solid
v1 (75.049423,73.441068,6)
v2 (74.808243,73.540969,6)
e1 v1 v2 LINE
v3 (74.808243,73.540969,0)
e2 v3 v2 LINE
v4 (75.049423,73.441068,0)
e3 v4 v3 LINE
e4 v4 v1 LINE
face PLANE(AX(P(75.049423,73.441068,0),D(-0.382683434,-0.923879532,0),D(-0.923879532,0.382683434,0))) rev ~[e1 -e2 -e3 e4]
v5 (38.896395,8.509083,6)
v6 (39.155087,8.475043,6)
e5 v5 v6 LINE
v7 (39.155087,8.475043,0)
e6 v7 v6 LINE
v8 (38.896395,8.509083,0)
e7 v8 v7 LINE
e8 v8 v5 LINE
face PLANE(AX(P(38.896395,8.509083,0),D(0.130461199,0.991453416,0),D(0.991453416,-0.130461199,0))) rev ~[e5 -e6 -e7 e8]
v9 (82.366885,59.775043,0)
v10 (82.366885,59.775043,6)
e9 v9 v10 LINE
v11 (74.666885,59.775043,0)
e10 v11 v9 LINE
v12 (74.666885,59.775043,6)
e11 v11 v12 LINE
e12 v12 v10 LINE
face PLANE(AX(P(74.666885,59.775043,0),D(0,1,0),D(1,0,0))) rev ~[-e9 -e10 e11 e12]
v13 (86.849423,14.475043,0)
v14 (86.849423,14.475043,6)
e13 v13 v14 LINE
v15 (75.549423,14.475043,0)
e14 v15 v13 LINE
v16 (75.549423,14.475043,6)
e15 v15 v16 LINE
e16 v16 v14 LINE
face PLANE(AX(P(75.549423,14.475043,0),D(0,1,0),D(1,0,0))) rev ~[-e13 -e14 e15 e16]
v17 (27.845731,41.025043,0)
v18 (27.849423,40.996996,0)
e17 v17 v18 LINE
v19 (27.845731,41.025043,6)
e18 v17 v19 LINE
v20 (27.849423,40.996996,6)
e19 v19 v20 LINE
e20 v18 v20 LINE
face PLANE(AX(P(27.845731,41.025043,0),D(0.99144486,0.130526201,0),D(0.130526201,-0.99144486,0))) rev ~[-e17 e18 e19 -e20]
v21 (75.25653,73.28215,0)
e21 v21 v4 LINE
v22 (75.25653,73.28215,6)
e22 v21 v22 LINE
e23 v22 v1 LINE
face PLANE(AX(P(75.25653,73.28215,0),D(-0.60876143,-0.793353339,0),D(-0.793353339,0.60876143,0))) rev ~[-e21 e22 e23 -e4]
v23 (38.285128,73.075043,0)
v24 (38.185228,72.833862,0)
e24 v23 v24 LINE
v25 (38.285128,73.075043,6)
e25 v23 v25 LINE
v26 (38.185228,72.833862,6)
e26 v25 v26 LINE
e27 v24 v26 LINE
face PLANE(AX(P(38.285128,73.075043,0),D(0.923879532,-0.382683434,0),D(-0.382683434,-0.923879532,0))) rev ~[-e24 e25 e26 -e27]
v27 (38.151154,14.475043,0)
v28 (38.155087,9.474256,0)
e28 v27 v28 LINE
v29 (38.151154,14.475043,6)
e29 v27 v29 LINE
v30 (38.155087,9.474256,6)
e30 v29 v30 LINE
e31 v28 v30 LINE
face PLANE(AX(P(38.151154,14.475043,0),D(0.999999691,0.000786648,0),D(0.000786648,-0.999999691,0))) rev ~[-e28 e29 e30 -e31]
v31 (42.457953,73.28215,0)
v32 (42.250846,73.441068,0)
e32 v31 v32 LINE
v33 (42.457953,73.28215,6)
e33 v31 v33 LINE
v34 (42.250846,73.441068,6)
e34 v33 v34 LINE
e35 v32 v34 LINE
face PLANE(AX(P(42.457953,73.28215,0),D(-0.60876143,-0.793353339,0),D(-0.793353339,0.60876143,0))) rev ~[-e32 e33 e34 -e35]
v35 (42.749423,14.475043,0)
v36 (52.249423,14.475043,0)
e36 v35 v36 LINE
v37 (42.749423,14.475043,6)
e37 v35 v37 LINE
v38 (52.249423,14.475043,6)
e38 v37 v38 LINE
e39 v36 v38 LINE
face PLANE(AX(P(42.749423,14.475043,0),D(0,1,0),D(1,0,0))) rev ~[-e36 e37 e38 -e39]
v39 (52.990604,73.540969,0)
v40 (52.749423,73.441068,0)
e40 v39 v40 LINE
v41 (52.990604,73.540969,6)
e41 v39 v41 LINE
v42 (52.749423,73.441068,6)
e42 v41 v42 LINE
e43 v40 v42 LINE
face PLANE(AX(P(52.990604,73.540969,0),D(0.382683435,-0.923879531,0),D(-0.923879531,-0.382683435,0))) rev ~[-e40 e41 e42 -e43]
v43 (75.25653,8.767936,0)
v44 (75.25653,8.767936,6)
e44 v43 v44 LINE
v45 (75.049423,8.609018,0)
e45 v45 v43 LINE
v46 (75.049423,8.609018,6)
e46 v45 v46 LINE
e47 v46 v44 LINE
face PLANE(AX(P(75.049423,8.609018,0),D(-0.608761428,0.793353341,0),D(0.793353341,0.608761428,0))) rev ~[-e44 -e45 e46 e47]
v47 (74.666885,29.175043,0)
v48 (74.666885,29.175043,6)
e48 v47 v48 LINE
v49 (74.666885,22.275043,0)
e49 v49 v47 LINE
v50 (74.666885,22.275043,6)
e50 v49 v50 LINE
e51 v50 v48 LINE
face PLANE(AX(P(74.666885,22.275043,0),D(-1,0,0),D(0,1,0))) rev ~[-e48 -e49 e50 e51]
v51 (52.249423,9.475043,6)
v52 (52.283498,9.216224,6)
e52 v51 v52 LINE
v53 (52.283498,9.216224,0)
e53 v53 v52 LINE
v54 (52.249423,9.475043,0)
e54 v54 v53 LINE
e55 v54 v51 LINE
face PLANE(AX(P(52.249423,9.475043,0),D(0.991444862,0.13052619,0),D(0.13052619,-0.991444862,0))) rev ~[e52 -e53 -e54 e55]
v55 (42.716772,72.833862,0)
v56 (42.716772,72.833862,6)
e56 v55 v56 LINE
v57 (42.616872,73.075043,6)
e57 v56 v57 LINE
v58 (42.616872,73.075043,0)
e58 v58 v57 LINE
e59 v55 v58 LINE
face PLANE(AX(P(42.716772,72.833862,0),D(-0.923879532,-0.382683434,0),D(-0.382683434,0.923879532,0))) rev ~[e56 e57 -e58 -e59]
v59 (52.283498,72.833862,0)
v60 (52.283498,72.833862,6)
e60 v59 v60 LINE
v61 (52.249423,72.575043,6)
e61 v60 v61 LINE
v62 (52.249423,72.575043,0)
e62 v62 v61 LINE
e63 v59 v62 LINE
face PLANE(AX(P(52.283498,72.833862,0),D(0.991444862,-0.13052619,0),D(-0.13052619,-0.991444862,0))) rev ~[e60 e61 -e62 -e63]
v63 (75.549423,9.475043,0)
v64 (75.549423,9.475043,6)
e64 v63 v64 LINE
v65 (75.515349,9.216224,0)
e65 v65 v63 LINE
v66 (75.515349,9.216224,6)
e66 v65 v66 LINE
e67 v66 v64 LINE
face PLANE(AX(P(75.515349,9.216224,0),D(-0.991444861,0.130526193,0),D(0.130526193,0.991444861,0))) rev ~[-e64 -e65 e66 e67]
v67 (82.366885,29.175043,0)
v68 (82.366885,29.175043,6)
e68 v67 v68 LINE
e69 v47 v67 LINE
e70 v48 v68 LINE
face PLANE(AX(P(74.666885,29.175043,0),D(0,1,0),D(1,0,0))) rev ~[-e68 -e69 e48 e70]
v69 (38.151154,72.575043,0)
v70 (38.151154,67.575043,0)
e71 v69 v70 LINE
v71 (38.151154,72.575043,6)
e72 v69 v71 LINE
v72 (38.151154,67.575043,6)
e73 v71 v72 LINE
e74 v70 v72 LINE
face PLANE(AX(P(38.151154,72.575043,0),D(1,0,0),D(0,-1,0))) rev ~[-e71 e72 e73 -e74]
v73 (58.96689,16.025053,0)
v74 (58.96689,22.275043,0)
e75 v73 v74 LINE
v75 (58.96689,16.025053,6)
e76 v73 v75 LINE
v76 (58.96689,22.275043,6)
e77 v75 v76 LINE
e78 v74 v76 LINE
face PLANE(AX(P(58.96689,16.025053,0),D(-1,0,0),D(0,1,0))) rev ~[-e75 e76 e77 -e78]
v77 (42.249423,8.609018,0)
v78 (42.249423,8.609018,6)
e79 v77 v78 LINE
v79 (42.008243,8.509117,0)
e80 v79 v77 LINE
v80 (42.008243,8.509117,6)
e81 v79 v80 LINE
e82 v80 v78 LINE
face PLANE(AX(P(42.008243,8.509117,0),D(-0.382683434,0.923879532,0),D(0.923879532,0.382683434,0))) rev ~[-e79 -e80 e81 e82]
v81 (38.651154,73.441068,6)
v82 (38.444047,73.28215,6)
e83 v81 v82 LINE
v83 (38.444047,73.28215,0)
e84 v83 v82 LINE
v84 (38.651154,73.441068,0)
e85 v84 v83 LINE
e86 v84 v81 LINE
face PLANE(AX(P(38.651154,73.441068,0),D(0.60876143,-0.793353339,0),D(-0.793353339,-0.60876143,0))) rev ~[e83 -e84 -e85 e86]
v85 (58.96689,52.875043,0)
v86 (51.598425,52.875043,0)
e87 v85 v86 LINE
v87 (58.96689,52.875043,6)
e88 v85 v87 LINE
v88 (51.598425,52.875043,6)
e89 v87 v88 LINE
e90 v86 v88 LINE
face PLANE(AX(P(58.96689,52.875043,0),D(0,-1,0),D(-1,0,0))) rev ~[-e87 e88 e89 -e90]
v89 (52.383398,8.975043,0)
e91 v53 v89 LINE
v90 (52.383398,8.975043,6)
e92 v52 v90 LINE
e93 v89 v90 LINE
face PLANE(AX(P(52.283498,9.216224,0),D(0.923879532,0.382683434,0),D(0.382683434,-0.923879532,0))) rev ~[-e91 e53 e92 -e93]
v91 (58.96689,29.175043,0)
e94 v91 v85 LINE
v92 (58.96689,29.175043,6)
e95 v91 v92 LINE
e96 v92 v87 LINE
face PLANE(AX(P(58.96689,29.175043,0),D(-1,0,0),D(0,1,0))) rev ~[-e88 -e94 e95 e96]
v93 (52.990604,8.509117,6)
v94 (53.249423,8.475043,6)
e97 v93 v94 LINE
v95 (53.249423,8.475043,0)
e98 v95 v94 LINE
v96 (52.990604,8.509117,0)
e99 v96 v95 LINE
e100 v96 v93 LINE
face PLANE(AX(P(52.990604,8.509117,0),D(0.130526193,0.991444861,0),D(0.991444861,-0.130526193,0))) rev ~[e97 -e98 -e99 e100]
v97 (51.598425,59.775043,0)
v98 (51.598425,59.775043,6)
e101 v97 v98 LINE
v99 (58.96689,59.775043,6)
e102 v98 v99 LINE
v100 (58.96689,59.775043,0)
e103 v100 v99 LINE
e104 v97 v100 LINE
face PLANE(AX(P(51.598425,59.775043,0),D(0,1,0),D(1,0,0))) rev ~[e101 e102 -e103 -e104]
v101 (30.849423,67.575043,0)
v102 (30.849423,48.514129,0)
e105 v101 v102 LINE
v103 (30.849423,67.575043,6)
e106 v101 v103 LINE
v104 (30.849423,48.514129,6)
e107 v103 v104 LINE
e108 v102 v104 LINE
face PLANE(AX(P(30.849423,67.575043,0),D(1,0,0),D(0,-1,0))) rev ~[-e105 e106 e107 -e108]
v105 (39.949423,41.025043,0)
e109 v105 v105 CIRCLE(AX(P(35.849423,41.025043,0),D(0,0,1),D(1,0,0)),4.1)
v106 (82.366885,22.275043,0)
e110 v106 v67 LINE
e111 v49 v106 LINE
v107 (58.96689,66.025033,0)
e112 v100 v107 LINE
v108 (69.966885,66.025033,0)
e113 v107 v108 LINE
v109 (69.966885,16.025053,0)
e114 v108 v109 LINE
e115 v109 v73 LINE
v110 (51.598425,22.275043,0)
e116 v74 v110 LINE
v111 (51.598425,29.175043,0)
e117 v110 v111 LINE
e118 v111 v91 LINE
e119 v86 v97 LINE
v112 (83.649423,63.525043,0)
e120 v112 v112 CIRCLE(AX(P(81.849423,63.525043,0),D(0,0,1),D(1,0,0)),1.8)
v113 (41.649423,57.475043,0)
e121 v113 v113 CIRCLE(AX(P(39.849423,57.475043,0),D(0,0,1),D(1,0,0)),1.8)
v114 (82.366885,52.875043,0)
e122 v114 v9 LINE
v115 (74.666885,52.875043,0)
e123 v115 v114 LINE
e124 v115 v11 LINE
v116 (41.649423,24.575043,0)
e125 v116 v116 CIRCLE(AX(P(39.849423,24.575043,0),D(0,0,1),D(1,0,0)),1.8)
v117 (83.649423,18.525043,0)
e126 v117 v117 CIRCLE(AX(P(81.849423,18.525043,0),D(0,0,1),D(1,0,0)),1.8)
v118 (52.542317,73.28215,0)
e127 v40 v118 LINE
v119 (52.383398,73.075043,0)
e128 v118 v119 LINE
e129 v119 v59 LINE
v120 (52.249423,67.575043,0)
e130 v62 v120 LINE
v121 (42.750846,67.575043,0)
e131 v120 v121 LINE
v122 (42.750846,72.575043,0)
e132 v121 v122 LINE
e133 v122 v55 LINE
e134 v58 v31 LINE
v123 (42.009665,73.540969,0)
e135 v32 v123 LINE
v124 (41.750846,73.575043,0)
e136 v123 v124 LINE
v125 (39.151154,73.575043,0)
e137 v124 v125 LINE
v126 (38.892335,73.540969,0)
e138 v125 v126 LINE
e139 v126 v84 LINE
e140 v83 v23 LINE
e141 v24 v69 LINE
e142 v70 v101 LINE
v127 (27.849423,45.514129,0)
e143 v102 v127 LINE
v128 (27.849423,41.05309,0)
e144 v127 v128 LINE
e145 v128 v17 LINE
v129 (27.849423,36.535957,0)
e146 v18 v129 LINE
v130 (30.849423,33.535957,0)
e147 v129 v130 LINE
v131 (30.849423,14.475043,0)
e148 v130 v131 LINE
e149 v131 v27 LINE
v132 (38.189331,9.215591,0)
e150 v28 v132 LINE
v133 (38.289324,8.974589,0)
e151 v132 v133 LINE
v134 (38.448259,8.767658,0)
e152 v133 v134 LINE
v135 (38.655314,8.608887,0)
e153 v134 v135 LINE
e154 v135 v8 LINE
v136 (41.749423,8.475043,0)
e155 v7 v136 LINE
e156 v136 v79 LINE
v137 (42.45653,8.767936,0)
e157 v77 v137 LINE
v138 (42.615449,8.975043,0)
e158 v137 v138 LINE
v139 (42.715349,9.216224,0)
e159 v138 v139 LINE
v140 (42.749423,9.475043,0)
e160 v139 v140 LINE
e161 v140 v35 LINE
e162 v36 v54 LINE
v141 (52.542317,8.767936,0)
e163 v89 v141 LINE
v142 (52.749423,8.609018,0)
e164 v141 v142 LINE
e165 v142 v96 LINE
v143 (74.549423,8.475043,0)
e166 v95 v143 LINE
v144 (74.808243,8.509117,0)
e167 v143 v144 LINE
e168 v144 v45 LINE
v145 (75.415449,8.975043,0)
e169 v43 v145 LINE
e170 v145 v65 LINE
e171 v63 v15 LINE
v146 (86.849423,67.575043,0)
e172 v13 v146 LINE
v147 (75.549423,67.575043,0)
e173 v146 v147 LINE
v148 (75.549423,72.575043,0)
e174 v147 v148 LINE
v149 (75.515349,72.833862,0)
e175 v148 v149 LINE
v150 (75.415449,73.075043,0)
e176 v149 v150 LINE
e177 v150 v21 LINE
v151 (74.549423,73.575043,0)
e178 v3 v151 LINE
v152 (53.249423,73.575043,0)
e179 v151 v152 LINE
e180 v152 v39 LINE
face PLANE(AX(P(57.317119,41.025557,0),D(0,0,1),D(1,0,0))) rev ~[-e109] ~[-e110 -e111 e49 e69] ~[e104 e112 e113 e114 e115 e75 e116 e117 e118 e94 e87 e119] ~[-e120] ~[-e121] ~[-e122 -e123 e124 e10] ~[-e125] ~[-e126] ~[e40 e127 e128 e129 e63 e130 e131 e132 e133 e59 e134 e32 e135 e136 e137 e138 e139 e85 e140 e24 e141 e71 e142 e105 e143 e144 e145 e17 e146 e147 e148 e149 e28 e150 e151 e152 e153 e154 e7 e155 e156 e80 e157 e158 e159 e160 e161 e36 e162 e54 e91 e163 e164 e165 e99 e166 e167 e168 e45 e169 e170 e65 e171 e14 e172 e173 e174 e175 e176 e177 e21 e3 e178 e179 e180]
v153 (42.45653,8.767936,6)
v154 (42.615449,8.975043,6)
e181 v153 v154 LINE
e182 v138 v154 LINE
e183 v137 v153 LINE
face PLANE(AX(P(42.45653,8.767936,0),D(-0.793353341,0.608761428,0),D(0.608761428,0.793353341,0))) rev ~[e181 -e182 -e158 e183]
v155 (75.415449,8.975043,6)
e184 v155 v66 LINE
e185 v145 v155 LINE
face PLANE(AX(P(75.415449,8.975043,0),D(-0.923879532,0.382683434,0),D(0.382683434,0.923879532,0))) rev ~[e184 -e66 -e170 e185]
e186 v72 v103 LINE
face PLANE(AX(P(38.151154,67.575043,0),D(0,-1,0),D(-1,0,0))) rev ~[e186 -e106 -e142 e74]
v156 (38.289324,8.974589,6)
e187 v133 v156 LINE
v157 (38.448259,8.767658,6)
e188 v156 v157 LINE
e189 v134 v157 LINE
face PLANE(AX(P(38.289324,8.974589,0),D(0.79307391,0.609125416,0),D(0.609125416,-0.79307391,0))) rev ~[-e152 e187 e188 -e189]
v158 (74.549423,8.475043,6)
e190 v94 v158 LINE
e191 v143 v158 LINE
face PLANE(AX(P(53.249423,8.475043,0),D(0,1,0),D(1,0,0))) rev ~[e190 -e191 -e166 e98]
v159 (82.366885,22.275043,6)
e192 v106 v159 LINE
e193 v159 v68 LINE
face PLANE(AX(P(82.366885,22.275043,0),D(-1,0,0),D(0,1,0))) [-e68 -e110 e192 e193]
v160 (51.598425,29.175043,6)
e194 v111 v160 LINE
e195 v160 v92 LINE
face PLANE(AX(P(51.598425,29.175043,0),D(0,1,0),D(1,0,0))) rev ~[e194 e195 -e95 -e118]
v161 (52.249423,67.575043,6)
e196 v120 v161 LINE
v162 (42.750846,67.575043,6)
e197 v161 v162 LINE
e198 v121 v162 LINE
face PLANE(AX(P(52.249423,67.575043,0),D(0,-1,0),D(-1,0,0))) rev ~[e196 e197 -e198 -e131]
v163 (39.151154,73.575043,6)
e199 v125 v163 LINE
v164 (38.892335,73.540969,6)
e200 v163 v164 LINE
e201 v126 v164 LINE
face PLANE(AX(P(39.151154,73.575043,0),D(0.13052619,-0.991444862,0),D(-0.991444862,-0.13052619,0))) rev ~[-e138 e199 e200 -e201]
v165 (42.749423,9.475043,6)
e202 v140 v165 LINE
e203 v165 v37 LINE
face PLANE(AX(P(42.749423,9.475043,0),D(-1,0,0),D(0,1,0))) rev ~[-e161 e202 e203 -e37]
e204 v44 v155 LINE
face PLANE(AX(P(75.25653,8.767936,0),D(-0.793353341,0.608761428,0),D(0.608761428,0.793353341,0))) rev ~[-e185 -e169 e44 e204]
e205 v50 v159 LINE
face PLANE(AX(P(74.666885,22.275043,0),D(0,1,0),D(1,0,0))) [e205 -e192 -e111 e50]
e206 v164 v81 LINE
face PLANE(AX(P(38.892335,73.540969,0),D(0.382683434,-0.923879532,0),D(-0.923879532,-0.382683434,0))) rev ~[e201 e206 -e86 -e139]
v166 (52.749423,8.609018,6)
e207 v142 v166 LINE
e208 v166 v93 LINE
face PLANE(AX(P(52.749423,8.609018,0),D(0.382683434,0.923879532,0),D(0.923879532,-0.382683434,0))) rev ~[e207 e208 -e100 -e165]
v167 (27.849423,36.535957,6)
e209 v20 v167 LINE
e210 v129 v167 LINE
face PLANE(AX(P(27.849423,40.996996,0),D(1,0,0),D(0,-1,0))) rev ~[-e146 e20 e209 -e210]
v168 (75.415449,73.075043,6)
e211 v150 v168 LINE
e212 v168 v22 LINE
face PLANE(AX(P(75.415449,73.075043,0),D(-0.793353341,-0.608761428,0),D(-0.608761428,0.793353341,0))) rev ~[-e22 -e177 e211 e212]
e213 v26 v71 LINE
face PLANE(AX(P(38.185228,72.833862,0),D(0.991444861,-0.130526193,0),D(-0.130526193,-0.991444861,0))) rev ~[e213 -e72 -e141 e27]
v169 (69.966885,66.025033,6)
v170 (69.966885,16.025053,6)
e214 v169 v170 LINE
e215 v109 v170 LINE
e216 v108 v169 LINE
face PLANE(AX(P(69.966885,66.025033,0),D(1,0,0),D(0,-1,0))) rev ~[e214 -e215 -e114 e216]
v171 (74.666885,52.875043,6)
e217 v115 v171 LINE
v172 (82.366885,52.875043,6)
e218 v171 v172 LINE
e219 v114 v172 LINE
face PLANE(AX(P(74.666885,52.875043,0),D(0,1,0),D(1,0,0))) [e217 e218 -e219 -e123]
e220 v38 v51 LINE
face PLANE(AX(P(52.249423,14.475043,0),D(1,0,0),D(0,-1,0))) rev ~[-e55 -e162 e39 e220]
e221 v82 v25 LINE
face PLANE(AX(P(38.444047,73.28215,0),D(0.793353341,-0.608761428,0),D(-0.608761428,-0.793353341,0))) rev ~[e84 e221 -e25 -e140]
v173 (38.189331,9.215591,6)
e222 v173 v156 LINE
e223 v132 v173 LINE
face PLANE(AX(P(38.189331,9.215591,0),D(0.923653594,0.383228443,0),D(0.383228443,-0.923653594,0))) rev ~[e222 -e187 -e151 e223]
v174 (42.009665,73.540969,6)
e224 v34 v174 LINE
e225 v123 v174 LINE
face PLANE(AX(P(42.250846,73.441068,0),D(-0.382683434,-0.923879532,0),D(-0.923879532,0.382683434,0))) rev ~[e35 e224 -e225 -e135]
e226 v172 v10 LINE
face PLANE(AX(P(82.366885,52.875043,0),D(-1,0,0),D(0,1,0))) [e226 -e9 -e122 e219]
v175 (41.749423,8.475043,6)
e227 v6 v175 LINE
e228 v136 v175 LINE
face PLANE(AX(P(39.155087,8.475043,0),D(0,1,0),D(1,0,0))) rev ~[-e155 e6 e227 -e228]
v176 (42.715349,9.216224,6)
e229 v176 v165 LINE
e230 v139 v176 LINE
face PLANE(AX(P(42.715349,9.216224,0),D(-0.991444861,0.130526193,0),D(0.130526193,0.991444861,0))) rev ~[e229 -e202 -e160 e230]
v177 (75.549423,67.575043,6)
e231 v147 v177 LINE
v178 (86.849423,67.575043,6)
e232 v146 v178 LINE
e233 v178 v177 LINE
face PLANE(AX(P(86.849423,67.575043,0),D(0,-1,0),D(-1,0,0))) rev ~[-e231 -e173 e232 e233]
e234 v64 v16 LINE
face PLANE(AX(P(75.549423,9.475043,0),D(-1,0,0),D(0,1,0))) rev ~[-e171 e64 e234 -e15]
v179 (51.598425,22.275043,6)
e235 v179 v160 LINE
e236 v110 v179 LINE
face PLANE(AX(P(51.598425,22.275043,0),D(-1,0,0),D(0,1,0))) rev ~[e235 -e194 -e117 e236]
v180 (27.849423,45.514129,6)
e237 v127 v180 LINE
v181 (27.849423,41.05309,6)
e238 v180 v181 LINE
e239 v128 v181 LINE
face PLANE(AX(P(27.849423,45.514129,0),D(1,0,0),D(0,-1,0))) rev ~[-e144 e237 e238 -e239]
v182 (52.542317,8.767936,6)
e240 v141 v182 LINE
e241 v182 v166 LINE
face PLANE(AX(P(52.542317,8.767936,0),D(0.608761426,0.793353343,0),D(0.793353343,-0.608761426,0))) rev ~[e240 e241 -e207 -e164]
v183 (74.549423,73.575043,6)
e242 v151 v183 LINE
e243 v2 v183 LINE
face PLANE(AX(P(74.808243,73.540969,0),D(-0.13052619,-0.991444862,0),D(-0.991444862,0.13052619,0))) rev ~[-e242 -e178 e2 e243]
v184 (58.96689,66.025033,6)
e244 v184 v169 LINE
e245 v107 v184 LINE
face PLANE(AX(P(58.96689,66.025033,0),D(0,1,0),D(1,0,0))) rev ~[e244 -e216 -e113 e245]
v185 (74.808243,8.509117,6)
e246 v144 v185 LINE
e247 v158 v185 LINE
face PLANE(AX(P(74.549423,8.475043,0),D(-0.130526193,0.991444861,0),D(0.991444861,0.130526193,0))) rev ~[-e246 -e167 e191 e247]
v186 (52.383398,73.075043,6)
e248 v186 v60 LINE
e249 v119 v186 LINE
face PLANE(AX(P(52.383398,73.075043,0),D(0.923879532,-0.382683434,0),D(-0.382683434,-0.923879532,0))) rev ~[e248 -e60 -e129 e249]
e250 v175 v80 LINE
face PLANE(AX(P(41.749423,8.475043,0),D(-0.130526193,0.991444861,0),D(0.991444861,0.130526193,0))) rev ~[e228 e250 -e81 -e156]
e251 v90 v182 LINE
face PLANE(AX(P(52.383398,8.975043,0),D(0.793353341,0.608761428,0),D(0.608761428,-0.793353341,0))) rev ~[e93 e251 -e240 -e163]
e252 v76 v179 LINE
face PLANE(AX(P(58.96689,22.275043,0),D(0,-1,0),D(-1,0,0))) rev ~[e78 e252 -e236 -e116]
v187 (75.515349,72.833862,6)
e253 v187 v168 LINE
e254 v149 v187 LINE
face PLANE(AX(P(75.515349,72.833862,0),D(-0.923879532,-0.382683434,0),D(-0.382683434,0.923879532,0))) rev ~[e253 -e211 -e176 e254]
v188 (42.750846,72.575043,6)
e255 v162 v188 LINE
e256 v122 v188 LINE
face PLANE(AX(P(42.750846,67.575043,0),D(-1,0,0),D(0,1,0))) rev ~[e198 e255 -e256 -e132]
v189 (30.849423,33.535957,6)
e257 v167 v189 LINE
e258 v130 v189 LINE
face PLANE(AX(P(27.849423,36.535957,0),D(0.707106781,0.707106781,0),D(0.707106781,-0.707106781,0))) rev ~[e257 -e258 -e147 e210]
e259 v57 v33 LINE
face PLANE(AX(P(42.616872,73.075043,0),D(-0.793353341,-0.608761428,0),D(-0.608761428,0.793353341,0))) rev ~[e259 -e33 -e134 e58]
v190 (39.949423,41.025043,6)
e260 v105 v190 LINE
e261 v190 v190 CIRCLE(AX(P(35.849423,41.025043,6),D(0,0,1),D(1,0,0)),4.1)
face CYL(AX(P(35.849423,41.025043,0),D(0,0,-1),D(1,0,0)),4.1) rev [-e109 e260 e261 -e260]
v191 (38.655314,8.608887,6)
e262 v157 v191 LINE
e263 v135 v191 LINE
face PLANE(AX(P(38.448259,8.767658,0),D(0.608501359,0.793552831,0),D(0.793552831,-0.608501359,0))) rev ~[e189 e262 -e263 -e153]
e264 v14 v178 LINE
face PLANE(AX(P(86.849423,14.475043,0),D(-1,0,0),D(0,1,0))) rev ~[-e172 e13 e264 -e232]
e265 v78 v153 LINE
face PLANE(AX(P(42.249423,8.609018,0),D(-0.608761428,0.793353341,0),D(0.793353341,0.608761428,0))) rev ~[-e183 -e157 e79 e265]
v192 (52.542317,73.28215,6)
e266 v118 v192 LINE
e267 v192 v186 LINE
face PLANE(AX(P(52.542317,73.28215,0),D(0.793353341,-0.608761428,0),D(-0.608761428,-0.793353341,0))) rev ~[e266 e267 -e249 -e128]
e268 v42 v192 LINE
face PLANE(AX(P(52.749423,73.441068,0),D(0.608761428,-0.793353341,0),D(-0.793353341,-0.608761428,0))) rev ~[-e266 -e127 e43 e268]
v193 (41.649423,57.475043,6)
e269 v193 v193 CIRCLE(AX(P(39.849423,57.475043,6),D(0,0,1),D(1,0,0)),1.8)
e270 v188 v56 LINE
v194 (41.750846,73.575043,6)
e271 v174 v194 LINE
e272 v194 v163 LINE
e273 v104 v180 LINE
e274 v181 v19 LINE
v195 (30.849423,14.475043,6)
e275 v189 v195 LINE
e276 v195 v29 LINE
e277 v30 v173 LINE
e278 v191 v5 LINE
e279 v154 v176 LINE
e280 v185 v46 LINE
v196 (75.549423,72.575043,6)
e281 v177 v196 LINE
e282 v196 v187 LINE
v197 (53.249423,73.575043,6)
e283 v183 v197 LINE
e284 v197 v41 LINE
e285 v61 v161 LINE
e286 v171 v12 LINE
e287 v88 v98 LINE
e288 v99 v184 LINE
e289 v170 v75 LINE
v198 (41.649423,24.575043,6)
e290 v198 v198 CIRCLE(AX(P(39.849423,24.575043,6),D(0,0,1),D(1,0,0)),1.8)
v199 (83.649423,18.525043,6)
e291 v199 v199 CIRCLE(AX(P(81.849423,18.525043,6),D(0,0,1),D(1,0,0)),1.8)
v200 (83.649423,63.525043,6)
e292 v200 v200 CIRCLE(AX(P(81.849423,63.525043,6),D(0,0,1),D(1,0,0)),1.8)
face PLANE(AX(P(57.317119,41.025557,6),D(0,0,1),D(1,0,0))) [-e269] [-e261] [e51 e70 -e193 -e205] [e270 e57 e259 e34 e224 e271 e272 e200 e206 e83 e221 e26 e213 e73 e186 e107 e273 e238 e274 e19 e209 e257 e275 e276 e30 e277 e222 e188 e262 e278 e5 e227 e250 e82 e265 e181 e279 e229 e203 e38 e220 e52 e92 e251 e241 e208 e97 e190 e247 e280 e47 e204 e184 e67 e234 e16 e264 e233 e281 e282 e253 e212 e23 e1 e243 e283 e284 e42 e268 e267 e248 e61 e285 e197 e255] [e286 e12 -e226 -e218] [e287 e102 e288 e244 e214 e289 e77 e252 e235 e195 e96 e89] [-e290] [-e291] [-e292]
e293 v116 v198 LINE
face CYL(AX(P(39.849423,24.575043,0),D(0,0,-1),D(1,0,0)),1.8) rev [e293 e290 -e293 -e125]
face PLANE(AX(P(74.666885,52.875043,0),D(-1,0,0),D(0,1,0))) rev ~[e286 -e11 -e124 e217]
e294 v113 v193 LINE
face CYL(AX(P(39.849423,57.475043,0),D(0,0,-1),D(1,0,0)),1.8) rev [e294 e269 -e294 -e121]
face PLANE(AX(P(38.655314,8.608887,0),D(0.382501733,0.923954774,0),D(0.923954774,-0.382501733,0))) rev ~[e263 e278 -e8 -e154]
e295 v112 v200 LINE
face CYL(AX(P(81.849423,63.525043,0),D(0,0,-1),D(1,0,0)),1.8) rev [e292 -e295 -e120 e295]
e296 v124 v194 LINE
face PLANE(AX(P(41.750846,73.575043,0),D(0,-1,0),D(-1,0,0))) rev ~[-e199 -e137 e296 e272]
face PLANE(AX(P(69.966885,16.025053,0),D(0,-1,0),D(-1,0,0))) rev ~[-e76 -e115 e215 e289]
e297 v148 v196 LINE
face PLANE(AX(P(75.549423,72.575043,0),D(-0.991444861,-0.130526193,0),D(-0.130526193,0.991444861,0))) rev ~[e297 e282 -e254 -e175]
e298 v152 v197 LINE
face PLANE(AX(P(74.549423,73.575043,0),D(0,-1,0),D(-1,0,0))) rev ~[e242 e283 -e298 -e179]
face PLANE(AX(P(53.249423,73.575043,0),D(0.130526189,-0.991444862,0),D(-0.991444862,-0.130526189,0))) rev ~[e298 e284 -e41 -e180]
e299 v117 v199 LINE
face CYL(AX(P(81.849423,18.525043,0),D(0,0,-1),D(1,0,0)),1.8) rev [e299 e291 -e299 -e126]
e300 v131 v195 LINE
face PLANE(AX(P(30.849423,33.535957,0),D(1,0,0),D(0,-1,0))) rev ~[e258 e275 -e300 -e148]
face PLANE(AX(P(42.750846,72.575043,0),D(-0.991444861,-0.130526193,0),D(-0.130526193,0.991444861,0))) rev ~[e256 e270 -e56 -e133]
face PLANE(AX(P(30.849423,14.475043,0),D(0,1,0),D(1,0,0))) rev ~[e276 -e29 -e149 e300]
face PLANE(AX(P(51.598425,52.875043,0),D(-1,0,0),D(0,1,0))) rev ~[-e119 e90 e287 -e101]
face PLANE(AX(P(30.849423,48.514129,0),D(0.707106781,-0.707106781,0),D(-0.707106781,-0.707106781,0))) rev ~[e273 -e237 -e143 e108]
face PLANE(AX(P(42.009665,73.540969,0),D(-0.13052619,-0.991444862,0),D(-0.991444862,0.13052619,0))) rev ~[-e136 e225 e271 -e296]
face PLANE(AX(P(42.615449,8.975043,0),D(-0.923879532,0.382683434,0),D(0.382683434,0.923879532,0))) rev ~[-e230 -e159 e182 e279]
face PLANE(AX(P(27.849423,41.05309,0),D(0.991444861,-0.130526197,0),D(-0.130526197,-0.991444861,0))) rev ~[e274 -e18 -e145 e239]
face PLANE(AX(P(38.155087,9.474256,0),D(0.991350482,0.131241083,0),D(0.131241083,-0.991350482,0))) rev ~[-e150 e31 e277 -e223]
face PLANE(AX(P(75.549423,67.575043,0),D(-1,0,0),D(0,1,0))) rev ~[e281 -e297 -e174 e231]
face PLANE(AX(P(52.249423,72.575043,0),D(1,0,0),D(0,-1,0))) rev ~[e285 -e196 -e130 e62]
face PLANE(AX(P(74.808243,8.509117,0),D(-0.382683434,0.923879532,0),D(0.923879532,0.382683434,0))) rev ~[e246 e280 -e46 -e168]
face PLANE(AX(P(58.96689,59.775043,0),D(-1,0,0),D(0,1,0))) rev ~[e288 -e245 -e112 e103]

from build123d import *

# Parameters (mm, degrees)
MODEL_R                  = 1.8
MODEL_R_2                = 4.1
MODEL_W                  = 7.7
MODEL_H                  = 6.9
RESSALTO_EXTRUS_O1_DEPTH = 6


with BuildPart() as part:
    # Model → Ressalto-extrusão1 (new body)
    with BuildSketch(Plane.XY):
        Polygon((52.383398063, 73.075042987), (52.28349764, 72.833862032), (52.249423467, 72.575042987), (52.249423467, 67.575042987), (42.750846371, 67.575042987), (42.750846371, 72.575042987), (42.716772197, 72.833862032), (42.616871774, 73.075042987), (42.457953152, 73.282149768), (42.250846371, 73.441068391), (42.009665416, 73.540968814), (41.750846371, 73.575042987), (39.151153585, 73.575042987), (38.89233454, 73.540968814), (38.651153585, 73.441068391), (38.444046804, 73.282149768), (38.285128182, 73.075042987), (38.185227759, 72.833862032), (38.151153585, 72.575042987), (38.151153585, 67.575042987), (30.849423467, 67.575042987), (30.849423467, 48.514129082), (27.849423467, 45.514129082), (27.849423467, 41.05308967), (27.845731051, 41.025042987), (27.849423467, 40.996996305), (27.849423467, 36.535956893), (30.849423467, 33.535956893), (30.849423467, 14.475042987), (38.151153585, 14.475042987), (38.155087445, 9.474256339), (38.189331183, 9.215590795), (38.289324067, 8.974588885), (38.448258531, 8.767658139), (38.655314239, 8.608886505), (38.896394733, 8.509083236), (39.155087136, 8.475042987), (41.749423467, 8.475042987), (42.008242512, 8.509117161), (42.249423467, 8.609017584), (42.456530248, 8.767936206), (42.61544887, 8.975042987), (42.715349293, 9.216223942), (42.749423467, 9.475042987), (42.749423467, 14.475042987), (52.249423467, 14.475042987), (52.249423467, 9.475042987), (52.28349764, 9.216223942), (52.383398063, 8.975042987), (52.542316685, 8.767936206), (52.749423467, 8.609017584), (52.990604422, 8.509117161), (53.249423467, 8.475042987), (74.549423467, 8.475042987), (74.808242512, 8.509117161), (75.049423467, 8.609017584), (75.256530248, 8.767936206), (75.41544887, 8.975042987), (75.515349293, 9.216223942), (75.549423467, 9.475042987), (75.549423467, 14.475042987), (86.849423467, 14.475042987), (86.849423467, 67.575042987), (75.549423467, 67.575042987), (75.549423467, 72.575042987), (75.515349293, 72.833862032), (75.41544887, 73.075042987), (75.256530248, 73.282149768), (75.049423467, 73.441068391), (74.808242512, 73.540968814), (74.549423467, 73.575042987), (53.249423467, 73.575042987), (52.990604421, 73.540968814), (52.749423467, 73.441068391), (52.542316685, 73.282149768), align=None)
        with Locations((81.849423467, 18.525042987)):
            Circle(MODEL_R, mode=Mode.SUBTRACT)
        with Locations((39.849423467, 24.575042987)):
            Circle(MODEL_R, mode=Mode.SUBTRACT)
        with Locations((35.849423467, 41.025042987)):
            Circle(MODEL_R_2, mode=Mode.SUBTRACT)
        with Locations((39.849423467, 57.475042987)):
            Circle(MODEL_R, mode=Mode.SUBTRACT)
        with Locations((81.849423467, 63.525042987)):
            Circle(MODEL_R, mode=Mode.SUBTRACT)
        Polygon((58.966889554, 29.175042987), (58.966889554, 52.875042987), (51.598425396, 52.875042987), (51.598425396, 59.775042987), (58.966889554, 59.775042987), (58.966889554, 66.025032836), (69.966884557, 66.025032836), (69.966884557, 16.025053138), (58.966889554, 16.025053138), (58.966889554, 22.275042987), (51.598425396, 22.275042987), (51.598425396, 29.175042987), align=None, mode=Mode.SUBTRACT)
        with Locations((78.516884557, 56.325042987)):
            Rectangle(MODEL_W, MODEL_H, mode=Mode.SUBTRACT)
        with Locations((78.516884557, 25.725042987)):
            Rectangle(MODEL_W, MODEL_H, mode=Mode.SUBTRACT)
    extrude(amount=RESSALTO_EXTRUS_O1_DEPTH)


solid = part.part
